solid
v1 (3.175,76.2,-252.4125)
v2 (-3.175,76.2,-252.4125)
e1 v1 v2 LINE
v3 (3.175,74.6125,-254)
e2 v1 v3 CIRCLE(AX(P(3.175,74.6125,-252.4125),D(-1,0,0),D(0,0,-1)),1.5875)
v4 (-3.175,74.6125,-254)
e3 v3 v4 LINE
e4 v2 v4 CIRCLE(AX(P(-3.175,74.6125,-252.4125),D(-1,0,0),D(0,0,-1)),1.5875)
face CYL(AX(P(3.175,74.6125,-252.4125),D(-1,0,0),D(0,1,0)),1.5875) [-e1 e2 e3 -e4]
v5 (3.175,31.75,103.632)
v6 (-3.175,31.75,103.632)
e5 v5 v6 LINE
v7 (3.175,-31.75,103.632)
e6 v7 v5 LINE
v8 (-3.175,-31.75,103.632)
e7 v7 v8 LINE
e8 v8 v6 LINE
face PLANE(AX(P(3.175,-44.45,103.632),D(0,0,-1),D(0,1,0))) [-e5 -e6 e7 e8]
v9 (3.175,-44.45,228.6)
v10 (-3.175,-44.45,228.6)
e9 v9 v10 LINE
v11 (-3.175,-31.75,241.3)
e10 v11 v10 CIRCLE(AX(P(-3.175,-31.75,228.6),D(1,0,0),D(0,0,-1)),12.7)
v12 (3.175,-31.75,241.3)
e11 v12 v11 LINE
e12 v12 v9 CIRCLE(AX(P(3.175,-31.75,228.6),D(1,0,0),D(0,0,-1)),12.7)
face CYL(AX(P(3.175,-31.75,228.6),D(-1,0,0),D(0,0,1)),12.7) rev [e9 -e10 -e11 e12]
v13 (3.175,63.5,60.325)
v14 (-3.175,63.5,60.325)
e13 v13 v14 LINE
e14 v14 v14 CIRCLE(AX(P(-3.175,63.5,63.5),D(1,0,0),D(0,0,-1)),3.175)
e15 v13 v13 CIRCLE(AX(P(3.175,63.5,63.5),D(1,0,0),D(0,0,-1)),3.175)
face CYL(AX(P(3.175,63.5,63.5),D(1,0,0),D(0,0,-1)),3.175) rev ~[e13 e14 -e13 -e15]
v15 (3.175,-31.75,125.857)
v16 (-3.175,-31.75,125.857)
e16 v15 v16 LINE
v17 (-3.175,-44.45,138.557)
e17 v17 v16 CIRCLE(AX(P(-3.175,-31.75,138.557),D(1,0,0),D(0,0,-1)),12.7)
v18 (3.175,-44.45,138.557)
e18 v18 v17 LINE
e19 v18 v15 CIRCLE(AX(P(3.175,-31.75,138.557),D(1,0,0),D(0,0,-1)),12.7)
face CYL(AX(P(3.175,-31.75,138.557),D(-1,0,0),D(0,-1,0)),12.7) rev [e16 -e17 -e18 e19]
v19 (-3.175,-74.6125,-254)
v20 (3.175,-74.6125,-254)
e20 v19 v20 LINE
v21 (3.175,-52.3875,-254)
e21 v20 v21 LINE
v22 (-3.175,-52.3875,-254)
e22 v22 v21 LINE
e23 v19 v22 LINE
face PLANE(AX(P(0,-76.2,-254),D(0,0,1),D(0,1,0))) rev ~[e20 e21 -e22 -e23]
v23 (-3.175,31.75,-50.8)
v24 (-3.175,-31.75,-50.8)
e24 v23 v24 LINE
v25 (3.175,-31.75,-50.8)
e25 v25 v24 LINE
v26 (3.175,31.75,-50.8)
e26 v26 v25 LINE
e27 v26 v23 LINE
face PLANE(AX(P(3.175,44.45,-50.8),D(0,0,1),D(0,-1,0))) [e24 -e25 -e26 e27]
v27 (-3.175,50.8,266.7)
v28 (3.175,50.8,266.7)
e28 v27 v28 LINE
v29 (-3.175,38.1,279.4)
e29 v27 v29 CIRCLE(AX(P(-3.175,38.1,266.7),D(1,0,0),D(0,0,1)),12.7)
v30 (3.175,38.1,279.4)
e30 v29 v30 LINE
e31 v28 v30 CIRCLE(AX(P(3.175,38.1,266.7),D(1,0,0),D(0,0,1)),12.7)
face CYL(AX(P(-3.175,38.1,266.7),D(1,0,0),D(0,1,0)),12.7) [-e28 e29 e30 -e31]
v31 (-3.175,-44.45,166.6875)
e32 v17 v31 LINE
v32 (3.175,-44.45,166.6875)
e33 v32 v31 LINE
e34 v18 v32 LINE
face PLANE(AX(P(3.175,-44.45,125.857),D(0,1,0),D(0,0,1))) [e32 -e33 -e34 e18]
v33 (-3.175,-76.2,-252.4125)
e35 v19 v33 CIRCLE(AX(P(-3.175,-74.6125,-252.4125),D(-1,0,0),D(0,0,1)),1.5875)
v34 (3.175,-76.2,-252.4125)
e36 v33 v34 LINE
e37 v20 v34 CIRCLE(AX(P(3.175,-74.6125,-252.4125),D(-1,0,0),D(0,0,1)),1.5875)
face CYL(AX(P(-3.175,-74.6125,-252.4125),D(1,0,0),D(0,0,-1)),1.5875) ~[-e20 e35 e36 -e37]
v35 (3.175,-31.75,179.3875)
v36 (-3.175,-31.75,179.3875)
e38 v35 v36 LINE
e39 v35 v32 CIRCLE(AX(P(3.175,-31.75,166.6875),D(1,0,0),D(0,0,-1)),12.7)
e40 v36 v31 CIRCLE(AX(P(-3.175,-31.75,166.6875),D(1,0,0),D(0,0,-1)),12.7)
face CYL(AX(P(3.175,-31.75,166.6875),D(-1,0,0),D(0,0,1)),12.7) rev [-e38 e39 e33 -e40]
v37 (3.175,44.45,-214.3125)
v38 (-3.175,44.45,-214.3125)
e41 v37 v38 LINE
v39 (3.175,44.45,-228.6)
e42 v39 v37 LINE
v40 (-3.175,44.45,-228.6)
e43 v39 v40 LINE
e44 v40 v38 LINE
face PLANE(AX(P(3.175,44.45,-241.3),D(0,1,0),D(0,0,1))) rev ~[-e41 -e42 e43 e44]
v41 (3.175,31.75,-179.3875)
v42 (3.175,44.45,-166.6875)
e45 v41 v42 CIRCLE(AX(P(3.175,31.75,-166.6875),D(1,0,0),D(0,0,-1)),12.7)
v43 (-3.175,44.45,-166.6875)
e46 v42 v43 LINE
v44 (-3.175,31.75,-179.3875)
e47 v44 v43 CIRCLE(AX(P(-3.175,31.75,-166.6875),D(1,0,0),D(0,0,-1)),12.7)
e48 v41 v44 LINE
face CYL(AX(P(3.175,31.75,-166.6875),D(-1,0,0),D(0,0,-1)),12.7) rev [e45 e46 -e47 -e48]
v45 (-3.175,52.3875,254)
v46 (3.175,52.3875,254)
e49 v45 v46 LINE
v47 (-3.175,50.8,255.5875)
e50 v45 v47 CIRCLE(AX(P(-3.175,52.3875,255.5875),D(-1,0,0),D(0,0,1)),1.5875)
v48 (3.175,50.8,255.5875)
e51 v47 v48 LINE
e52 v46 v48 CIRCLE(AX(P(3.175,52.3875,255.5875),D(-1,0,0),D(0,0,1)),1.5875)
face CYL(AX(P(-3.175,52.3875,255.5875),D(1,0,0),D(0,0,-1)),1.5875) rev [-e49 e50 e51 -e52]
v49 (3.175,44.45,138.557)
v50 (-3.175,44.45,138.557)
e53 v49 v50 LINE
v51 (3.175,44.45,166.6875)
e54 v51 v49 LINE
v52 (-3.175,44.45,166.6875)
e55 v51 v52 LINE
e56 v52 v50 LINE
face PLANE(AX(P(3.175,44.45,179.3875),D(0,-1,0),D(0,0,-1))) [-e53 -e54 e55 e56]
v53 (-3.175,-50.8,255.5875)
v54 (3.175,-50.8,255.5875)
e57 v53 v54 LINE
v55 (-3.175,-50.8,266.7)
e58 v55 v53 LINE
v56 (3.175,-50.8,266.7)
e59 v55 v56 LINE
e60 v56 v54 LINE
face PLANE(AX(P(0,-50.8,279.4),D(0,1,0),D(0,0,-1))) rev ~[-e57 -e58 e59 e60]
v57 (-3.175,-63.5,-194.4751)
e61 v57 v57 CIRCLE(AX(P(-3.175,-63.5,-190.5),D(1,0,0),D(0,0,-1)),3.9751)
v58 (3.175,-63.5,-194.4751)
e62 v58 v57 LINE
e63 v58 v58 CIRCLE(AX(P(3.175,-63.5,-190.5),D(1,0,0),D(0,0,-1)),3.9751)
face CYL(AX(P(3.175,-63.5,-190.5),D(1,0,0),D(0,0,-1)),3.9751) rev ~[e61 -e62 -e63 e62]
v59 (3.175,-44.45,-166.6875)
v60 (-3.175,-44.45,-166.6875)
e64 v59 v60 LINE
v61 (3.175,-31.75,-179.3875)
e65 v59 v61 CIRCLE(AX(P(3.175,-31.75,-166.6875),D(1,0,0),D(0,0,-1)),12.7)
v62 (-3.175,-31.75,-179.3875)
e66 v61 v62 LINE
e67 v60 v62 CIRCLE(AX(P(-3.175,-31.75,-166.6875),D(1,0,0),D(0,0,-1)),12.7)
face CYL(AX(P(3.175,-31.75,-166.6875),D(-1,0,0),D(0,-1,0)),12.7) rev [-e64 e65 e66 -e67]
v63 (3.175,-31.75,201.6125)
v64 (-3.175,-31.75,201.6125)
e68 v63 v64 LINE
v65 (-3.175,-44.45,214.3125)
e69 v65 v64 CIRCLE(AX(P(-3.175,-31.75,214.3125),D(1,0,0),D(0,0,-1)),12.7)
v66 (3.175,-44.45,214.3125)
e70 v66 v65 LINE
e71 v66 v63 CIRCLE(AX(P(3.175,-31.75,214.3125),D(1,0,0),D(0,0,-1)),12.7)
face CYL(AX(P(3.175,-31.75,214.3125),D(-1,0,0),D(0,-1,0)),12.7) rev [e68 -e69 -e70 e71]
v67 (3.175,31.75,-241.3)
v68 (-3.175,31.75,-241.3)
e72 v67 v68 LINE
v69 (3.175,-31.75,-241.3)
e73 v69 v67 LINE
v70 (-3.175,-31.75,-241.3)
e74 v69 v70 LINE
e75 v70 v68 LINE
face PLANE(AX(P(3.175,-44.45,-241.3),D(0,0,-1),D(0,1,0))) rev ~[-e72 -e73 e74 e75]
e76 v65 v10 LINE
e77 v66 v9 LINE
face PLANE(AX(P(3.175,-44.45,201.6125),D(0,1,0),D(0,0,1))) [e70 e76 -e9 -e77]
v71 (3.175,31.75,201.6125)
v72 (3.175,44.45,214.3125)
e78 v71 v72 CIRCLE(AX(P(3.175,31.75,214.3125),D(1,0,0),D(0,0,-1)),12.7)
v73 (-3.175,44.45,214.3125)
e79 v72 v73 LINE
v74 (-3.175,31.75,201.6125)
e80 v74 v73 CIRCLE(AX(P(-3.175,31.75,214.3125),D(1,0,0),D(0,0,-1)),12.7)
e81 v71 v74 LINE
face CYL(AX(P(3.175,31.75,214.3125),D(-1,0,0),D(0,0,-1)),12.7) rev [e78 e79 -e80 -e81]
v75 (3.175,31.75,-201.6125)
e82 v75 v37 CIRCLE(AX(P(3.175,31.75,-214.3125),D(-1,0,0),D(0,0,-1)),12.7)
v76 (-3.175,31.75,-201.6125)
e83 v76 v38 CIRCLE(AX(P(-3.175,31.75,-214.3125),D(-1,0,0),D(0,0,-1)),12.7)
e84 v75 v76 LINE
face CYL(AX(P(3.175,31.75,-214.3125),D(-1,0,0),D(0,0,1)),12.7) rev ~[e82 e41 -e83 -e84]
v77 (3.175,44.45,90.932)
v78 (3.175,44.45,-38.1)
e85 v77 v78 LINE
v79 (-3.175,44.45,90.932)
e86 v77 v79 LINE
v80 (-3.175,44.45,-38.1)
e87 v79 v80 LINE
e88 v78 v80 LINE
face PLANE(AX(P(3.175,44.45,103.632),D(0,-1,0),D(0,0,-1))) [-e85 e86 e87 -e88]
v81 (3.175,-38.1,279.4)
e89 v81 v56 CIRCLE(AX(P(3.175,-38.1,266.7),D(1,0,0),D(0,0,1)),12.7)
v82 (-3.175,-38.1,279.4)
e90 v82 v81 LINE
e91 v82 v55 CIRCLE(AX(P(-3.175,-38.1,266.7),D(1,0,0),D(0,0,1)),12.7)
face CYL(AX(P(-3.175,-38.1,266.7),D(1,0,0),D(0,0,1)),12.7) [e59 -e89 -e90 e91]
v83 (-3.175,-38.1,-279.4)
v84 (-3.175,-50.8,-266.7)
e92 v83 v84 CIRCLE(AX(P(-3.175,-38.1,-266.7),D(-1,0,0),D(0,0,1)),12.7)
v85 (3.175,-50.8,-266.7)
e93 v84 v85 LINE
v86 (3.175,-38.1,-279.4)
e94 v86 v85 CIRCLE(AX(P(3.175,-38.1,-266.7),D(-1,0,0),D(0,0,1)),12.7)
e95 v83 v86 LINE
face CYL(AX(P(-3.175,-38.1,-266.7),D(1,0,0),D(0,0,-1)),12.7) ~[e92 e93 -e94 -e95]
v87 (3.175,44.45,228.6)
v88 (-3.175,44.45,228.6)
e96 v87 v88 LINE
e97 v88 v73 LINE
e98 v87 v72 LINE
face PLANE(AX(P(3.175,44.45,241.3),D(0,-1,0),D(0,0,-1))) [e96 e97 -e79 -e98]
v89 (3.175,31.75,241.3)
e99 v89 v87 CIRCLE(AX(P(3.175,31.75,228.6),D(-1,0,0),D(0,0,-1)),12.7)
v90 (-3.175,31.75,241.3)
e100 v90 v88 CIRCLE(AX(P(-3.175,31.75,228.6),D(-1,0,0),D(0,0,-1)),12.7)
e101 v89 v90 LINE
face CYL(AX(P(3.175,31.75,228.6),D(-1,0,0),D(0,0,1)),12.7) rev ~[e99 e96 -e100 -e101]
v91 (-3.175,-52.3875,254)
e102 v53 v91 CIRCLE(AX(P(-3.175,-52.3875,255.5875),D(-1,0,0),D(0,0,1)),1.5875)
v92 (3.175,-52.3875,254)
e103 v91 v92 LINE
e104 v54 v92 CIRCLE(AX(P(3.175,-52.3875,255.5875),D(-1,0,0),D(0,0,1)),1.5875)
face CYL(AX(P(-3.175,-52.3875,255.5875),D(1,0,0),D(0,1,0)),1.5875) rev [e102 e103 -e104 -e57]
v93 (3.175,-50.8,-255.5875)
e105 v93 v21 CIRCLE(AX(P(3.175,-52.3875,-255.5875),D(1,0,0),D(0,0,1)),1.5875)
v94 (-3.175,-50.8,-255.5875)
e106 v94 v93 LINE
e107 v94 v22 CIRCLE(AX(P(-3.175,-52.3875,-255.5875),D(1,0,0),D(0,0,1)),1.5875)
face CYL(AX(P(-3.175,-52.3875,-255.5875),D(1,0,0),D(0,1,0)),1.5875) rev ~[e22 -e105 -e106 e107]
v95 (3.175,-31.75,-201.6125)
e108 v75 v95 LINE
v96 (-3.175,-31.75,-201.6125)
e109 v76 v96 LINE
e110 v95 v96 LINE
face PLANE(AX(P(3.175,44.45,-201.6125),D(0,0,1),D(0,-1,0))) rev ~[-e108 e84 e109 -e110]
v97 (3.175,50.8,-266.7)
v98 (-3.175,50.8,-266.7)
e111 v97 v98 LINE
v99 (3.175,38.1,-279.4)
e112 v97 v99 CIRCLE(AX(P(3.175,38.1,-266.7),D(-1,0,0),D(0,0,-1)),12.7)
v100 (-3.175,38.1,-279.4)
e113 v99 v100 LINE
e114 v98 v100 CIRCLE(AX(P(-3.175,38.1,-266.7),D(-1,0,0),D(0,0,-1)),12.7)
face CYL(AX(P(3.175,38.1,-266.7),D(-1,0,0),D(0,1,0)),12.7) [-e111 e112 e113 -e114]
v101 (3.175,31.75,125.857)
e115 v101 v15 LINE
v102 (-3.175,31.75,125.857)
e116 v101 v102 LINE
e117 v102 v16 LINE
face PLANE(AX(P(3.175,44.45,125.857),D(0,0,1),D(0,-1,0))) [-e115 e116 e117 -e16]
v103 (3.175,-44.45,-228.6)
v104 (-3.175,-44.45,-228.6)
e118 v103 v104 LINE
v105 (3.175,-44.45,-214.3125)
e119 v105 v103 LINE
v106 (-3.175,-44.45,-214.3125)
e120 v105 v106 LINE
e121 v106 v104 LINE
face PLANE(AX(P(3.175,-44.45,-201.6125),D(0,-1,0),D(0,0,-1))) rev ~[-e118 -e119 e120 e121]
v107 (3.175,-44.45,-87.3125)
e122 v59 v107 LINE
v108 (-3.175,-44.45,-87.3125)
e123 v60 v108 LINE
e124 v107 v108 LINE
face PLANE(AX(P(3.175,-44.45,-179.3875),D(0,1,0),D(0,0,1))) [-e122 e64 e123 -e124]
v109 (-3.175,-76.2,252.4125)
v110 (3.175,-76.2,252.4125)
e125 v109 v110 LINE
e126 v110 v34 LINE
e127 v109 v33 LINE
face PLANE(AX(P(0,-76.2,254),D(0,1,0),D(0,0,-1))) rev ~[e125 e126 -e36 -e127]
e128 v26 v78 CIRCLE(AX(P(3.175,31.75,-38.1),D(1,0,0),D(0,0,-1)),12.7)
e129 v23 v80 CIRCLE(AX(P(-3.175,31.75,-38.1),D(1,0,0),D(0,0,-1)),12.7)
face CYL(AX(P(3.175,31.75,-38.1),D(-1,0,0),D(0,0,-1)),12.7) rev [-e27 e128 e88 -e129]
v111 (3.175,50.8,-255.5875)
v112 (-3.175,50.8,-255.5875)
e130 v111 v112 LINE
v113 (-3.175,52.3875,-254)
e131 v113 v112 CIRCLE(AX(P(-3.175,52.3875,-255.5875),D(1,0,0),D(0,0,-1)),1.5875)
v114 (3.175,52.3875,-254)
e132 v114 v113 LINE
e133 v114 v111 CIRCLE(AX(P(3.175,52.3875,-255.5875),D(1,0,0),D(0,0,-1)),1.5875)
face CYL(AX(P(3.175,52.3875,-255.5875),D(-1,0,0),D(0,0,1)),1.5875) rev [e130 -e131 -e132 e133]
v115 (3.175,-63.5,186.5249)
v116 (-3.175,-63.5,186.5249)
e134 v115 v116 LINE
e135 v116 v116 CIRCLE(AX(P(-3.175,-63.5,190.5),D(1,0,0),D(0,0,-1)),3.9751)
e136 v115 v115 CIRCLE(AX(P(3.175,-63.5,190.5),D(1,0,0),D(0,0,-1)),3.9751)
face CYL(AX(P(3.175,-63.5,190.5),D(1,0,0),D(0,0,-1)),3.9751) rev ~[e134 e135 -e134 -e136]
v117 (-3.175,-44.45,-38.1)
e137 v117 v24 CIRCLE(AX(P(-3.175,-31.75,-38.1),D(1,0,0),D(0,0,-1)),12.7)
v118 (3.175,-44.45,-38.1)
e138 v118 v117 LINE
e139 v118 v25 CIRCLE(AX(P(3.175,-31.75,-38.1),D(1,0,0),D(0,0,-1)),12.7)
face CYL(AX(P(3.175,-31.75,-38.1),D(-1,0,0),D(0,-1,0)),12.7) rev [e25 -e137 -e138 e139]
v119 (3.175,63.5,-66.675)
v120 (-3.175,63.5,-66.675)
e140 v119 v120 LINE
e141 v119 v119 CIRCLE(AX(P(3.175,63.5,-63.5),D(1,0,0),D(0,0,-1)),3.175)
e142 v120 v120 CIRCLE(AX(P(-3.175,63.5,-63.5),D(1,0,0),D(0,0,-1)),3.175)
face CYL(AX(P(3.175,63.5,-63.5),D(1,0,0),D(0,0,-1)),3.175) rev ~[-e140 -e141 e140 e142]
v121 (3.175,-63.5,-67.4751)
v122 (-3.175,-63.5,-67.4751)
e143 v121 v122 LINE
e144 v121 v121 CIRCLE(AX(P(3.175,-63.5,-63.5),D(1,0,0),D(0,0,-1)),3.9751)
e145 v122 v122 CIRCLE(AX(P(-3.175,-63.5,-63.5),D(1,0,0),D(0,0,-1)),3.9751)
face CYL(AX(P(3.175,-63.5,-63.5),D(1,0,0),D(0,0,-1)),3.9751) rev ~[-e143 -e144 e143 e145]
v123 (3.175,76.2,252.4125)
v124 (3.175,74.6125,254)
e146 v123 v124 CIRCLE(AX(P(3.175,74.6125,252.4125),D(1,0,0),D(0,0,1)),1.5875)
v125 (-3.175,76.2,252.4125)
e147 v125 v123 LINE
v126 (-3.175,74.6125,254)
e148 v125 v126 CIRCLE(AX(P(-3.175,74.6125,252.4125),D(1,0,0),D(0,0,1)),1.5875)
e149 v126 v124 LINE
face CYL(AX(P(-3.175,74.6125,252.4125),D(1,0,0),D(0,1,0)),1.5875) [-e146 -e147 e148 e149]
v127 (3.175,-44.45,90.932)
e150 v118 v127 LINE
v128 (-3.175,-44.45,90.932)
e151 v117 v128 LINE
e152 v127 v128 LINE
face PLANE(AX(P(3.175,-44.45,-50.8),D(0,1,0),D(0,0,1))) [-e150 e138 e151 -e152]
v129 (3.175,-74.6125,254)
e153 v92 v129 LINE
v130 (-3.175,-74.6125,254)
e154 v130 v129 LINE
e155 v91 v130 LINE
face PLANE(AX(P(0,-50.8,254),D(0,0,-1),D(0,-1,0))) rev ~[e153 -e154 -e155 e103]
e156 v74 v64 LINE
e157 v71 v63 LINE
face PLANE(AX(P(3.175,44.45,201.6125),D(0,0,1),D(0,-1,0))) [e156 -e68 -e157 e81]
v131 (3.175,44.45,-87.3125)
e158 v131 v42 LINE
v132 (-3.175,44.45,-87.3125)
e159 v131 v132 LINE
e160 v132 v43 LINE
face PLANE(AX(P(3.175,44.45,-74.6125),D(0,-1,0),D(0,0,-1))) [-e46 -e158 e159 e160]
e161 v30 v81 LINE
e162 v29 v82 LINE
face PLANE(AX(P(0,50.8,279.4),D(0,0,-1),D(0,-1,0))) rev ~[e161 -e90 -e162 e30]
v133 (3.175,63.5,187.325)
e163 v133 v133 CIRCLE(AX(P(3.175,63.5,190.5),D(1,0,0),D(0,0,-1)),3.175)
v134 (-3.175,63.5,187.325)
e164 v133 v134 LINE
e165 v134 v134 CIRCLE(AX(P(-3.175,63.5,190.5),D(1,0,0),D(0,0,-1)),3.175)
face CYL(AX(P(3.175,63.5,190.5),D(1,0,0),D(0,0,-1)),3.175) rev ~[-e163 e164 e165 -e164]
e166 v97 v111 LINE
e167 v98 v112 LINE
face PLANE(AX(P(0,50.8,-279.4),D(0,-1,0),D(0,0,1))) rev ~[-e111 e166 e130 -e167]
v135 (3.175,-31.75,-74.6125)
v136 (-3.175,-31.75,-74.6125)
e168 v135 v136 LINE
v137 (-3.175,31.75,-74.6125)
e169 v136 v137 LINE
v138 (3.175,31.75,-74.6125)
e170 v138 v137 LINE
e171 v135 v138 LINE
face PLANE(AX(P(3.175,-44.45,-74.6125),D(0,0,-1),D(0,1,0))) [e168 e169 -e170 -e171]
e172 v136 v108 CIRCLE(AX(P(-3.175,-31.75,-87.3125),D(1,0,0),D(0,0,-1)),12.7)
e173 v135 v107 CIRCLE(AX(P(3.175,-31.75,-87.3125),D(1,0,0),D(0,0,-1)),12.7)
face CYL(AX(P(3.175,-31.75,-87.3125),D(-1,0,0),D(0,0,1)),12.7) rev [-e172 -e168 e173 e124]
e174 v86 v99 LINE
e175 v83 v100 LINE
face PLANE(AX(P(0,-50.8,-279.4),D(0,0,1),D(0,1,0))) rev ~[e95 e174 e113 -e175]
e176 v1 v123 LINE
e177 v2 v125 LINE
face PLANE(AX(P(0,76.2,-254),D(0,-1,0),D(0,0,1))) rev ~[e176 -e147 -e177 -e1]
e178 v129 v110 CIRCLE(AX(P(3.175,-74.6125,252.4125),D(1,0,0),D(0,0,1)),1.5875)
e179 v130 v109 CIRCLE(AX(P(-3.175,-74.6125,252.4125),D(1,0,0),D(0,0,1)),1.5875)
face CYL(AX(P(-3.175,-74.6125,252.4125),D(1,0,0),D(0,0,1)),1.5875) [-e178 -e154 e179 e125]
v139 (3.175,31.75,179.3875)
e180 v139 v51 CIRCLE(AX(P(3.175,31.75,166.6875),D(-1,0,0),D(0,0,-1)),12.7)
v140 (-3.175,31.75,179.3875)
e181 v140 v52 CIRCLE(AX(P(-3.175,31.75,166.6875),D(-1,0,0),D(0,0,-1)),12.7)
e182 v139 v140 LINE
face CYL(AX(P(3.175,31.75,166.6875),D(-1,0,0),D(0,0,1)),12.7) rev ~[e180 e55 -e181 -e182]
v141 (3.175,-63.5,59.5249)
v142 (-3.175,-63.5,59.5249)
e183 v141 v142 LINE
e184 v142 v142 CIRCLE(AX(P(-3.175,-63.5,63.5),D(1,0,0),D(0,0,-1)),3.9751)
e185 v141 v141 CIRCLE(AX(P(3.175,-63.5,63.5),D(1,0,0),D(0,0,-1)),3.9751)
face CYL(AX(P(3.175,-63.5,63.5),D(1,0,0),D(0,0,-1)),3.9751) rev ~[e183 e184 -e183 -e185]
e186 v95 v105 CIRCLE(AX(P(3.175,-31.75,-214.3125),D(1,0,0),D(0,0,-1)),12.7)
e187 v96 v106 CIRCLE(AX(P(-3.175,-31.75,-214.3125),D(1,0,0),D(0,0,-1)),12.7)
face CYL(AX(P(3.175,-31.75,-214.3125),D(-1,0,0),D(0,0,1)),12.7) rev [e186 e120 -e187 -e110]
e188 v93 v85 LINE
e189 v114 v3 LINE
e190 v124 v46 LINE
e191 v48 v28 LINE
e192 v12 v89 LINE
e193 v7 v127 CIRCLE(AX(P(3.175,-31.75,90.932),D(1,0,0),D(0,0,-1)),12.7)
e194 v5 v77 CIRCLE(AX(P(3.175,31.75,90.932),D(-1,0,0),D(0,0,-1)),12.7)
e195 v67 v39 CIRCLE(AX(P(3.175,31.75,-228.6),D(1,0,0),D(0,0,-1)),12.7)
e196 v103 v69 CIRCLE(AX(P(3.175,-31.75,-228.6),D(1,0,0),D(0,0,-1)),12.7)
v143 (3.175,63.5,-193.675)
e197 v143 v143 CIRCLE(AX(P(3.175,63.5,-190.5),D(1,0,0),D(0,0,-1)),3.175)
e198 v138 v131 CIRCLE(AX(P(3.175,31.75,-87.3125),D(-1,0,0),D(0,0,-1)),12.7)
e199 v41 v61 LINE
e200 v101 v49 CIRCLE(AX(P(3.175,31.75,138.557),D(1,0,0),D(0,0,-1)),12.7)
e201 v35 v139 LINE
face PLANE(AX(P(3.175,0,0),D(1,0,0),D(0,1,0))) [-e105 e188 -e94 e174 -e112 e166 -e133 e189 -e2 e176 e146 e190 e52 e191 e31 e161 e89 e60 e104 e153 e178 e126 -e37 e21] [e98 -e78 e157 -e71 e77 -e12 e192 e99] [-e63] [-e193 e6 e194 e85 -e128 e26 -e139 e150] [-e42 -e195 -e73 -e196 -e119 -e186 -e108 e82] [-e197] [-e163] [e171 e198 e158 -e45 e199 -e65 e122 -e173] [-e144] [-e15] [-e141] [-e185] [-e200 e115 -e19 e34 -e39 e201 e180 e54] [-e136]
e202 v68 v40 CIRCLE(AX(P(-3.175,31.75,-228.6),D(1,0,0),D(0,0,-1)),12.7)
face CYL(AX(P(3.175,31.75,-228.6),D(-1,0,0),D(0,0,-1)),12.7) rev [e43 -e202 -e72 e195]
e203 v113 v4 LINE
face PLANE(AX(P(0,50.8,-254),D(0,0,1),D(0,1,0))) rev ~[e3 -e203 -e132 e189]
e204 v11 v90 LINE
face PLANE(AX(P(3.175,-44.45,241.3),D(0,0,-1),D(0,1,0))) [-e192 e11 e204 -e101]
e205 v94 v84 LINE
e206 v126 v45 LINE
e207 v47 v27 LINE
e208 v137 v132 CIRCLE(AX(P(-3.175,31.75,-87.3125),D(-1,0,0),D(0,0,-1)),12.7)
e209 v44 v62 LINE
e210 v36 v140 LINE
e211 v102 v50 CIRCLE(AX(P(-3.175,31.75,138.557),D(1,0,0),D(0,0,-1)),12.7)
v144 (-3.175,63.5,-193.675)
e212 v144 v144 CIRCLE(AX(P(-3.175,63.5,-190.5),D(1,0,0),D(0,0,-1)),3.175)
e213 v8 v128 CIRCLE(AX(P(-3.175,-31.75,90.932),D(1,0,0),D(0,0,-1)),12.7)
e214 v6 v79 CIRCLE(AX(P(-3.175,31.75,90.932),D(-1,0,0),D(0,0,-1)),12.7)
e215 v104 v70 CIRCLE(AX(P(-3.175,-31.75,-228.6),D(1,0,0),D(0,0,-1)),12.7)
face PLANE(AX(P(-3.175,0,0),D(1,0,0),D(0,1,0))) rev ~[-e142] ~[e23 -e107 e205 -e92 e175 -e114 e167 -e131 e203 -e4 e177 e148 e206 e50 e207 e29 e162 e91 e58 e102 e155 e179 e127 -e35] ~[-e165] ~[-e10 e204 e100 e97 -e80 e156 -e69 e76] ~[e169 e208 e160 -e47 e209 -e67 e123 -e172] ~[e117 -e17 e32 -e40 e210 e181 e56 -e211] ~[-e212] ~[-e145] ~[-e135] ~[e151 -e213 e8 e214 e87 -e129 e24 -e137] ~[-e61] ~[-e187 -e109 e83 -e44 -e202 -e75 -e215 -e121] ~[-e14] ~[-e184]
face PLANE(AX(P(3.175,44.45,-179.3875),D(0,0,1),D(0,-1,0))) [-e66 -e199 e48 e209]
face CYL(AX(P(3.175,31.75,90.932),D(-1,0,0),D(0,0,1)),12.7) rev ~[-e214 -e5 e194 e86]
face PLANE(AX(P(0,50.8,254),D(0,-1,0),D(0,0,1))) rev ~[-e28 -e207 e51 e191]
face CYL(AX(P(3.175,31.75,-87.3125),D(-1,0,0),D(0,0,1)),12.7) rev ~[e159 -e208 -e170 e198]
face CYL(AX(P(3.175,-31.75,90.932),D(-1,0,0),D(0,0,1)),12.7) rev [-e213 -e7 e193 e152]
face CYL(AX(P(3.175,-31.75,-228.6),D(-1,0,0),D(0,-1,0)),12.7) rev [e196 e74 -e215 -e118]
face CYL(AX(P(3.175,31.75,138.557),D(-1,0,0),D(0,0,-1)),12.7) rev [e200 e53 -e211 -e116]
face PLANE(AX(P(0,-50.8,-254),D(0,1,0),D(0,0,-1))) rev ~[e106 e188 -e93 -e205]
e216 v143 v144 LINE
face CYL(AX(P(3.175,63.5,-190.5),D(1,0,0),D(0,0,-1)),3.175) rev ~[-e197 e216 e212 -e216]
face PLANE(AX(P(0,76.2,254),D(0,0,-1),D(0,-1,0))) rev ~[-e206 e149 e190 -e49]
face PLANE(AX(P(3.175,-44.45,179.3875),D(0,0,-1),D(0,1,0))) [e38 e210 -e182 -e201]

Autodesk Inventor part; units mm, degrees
ref_plane "YZ Plane" through (0, 0, 0) normal (1, 0, 0) x (0, 1, 0)
ref_plane "XZ Plane" through (0, 0, 0) normal (0, 1, 0) x (-1, 0, 0)
ref_plane "XY Plane" through (0, 0, 0) normal (0, 0, 1) x (1, 0, 0)
sketch "Sketch1" plane through (0, 0, 0) normal (1, 0, 0) x (0, 1, 0)
  line L0 (76.2, 254) -> (-76.2, 254)
  line L1 (-76.2, 254) -> (-76.2, -254)
  line L2 (-76.2, -254) -> (76.2, -254)
  line L3 (76.2, -254) -> (76.2, 254)
  line L4 (76.2, 254) -> (-76.2, -254) construction
  line L5 (-76.2, 254) -> (76.2, -254) construction
  line L6 (50.8, 279.4) -> (-50.8, 279.4)
  line L7 (-50.8, 279.4) -> (-50.8, 254)
  line L8 (-50.8, 254) -> (50.8, 254)
  line L9 (50.8, 254) -> (50.8, 279.4)
  line L10 (50.8, 279.4) -> (-50.8, 254) construction
  line L11 (-50.8, 279.4) -> (50.8, 254) construction
  line L12 (50.8, -254) -> (-50.8, -254)
  line L13 (-50.8, -254) -> (-50.8, -279.4)
  line L14 (-50.8, -279.4) -> (50.8, -279.4)
  line L15 (50.8, -279.4) -> (50.8, -254)
  line L16 (50.8, -254) -> (-50.8, -279.4) construction
  line L17 (-50.8, -254) -> (50.8, -279.4) construction
  line L18 (0, 266.7) -> (0, -266.7) construction
  point P0 (0, 0)
  point P1 (-50.8, -254)
  point P2 (50.8, 254)
  dimension "d0" = 152.4
  dimension "d1" = 508
  dimension "d9" = 25.4
  dimension "d10" = 101.6
extrude "Extrusion1" add sketch "Sketch1" along normal mid plane 6.35
sketch "Sketch3" plane through (3.175, 0, 0) normal (1, 0, 0) x (0, 0, -1)
  line L0 (-241.3, 44.45) -> (-201.6125, 44.45)
  line L1 (-201.6125, 44.45) -> (-201.6125, -44.45)
  line L2 (-201.6125, -44.45) -> (-241.3, -44.45)
  line L3 (-241.3, -44.45) -> (-241.3, 44.45)
  line L4 (-179.3875, 44.45) -> (-125.857, 44.45)
  line L5 (-125.857, 44.45) -> (-125.857, -44.45)
  line L6 (-125.857, -44.45) -> (-179.3875, -44.45)
  line L7 (-179.3875, -44.45) -> (-179.3875, 44.45)
  line L8 (-103.632, 44.45) -> (50.8, 44.45)
  line L9 (50.8, 44.45) -> (50.8, -44.45)
  line L10 (50.8, -44.45) -> (-103.632, -44.45)
  line L11 (-103.632, -44.45) -> (-103.632, 44.45)
  line L12 (74.6125, 44.45) -> (179.3875, 44.45)
  line L13 (179.3875, 44.45) -> (179.3875, -44.45)
  line L14 (179.3875, -44.45) -> (74.6125, -44.45)
  line L15 (74.6125, -44.45) -> (74.6125, 44.45)
  line L16 (201.6125, -44.45) -> (241.3, -44.45)
  line L17 (241.3, -44.45) -> (241.3, 44.45)
  line L18 (241.3, 44.45) -> (201.6125, 44.45)
  line L19 (201.6125, 44.45) -> (201.6125, -44.45)
  line L20 (-201.6125, 0) -> (-179.3875, 0) construction
  line L21 (-125.857, 0) -> (-103.632, 0) construction
  line L22 (179.3875, 0) -> (201.6125, 0) construction
  line L23 (-254, -50.8) -> (-254, -76.2) construction
  circle A0 centre (-190.5, 63.5) radius 3.175
  line L24 (-190.5, 63.5) -> (-190.5, 0) construction
  line L25 (-190.5, 0) -> (-190.5, -63.5) construction
  circle A1 centre (-190.5, -63.5) radius 3.9751
  circle A2 centre (-63.5, 63.5) radius 3.175
  circle A3 centre (-63.5, -63.5) radius 3.9751
  circle A4 centre (63.5, 63.5) radius 3.175
  circle A5 centre (63.5, -63.5) radius 3.9751
  circle A6 centre (190.5, 63.5) radius 3.175
  circle A7 centre (190.5, -63.5) radius 3.9751
  line L26 (-125.857, 44.45) -> (-103.632, 44.45)
  line L27 (-103.632, 44.45) -> (-103.632, -44.45)
  line L28 (-103.632, -44.45) -> (-125.857, -44.45)
  line L29 (-125.857, -44.45) -> (-125.857, 44.45)
  line L30 (254, -76.2) -> (254, -50.8) projected
  line L31 (-254, -76.2) -> (254, -76.2) projected
  point P0 (0, 0)
  point P1 (0, 0)
  point P2 (-114.7445, 0)
  dimension "d12" = 22.225
  dimension "d13" = 12.7
  dimension "d14" = 88.9
  dimension "d16" = 6.35
  dimension "d17" = 7.9502
  dimension "d20" = 127
  dimension "d29" = 12.7
  dimension "d30" = 63.5
  dimension "d31" = 12.7
  dimension "d32" = 11.1125
  dimension "d33" = 31.75
  dimension "d34" = 127
  dimension "d35" = 63.5
  dimension "d39" = 154.432
extrude "Extrusion3" cut sketch "Sketch3" against normal through all contours L0 L1 L2 L3 | L4 L5 L6 L7 | L8 L9 L10 L11 | L12 L13 L14 L15 | L19 L18 L17 L16 | A0 | A1 | A2 | A3 | A4 | A5 | A6 | A7
fillet "Fillet1" radius 12.7 24 edges at (0, 50.8, 279.4) (0, 44.45, 241.3) (0, 44.45, 201.6125) (0, -44.45, 201.6125) (0, -44.45, 241.3) (0, -50.8, 279.4) (0, -44.45, 179.3875) (0, 44.45, 179.3875) (0, -44.45, -50.8) (0, -44.45, -74.6125) (0, 44.45, -74.6125) (0, 44.45, -50.8) (0, 44.45, -179.3875) (0, 44.45, -201.6125) (0, 44.45, -241.3) (0, 50.8, -279.4) (0, -50.8, -279.4) (0, -44.45, -241.3) (0, -44.45, -201.6125) (0, -44.45, -179.3875) (0, 44.45, 125.857) (0, 44.45, 103.632) (0, -44.45, 103.632) (0, -44.45, 125.857)
fillet "Fillet1" radius 1.5875 8 edges at (0, 50.8, 254) (0, -50.8, 254) (0, -76.2, 254) (0, 76.2, 254) (0, 76.2, -254) (0, 50.8, -254) (0, -50.8, -254) (0, -76.2, -254)
sketch "Sketch4" plane through (-3.175, 0, 0) normal (-1, 0, 0) x (0, 0, 1)
  line L0 (-182.626, 63.5635) -> (-141.351, 63.5635) construction
  line L1 (-254, 74.6125) -> (-254, 52.3875) construction
  line L2 (252.4125, 76.2) -> (-252.4125, 76.2) construction
  point P0 (0, 0)
  dimension "d36" = 71.374
  dimension "d37" = 12.6365
  dimension "d38" = 41.275
properties part number "ChassisInterface" material "Aluminum 6061"
